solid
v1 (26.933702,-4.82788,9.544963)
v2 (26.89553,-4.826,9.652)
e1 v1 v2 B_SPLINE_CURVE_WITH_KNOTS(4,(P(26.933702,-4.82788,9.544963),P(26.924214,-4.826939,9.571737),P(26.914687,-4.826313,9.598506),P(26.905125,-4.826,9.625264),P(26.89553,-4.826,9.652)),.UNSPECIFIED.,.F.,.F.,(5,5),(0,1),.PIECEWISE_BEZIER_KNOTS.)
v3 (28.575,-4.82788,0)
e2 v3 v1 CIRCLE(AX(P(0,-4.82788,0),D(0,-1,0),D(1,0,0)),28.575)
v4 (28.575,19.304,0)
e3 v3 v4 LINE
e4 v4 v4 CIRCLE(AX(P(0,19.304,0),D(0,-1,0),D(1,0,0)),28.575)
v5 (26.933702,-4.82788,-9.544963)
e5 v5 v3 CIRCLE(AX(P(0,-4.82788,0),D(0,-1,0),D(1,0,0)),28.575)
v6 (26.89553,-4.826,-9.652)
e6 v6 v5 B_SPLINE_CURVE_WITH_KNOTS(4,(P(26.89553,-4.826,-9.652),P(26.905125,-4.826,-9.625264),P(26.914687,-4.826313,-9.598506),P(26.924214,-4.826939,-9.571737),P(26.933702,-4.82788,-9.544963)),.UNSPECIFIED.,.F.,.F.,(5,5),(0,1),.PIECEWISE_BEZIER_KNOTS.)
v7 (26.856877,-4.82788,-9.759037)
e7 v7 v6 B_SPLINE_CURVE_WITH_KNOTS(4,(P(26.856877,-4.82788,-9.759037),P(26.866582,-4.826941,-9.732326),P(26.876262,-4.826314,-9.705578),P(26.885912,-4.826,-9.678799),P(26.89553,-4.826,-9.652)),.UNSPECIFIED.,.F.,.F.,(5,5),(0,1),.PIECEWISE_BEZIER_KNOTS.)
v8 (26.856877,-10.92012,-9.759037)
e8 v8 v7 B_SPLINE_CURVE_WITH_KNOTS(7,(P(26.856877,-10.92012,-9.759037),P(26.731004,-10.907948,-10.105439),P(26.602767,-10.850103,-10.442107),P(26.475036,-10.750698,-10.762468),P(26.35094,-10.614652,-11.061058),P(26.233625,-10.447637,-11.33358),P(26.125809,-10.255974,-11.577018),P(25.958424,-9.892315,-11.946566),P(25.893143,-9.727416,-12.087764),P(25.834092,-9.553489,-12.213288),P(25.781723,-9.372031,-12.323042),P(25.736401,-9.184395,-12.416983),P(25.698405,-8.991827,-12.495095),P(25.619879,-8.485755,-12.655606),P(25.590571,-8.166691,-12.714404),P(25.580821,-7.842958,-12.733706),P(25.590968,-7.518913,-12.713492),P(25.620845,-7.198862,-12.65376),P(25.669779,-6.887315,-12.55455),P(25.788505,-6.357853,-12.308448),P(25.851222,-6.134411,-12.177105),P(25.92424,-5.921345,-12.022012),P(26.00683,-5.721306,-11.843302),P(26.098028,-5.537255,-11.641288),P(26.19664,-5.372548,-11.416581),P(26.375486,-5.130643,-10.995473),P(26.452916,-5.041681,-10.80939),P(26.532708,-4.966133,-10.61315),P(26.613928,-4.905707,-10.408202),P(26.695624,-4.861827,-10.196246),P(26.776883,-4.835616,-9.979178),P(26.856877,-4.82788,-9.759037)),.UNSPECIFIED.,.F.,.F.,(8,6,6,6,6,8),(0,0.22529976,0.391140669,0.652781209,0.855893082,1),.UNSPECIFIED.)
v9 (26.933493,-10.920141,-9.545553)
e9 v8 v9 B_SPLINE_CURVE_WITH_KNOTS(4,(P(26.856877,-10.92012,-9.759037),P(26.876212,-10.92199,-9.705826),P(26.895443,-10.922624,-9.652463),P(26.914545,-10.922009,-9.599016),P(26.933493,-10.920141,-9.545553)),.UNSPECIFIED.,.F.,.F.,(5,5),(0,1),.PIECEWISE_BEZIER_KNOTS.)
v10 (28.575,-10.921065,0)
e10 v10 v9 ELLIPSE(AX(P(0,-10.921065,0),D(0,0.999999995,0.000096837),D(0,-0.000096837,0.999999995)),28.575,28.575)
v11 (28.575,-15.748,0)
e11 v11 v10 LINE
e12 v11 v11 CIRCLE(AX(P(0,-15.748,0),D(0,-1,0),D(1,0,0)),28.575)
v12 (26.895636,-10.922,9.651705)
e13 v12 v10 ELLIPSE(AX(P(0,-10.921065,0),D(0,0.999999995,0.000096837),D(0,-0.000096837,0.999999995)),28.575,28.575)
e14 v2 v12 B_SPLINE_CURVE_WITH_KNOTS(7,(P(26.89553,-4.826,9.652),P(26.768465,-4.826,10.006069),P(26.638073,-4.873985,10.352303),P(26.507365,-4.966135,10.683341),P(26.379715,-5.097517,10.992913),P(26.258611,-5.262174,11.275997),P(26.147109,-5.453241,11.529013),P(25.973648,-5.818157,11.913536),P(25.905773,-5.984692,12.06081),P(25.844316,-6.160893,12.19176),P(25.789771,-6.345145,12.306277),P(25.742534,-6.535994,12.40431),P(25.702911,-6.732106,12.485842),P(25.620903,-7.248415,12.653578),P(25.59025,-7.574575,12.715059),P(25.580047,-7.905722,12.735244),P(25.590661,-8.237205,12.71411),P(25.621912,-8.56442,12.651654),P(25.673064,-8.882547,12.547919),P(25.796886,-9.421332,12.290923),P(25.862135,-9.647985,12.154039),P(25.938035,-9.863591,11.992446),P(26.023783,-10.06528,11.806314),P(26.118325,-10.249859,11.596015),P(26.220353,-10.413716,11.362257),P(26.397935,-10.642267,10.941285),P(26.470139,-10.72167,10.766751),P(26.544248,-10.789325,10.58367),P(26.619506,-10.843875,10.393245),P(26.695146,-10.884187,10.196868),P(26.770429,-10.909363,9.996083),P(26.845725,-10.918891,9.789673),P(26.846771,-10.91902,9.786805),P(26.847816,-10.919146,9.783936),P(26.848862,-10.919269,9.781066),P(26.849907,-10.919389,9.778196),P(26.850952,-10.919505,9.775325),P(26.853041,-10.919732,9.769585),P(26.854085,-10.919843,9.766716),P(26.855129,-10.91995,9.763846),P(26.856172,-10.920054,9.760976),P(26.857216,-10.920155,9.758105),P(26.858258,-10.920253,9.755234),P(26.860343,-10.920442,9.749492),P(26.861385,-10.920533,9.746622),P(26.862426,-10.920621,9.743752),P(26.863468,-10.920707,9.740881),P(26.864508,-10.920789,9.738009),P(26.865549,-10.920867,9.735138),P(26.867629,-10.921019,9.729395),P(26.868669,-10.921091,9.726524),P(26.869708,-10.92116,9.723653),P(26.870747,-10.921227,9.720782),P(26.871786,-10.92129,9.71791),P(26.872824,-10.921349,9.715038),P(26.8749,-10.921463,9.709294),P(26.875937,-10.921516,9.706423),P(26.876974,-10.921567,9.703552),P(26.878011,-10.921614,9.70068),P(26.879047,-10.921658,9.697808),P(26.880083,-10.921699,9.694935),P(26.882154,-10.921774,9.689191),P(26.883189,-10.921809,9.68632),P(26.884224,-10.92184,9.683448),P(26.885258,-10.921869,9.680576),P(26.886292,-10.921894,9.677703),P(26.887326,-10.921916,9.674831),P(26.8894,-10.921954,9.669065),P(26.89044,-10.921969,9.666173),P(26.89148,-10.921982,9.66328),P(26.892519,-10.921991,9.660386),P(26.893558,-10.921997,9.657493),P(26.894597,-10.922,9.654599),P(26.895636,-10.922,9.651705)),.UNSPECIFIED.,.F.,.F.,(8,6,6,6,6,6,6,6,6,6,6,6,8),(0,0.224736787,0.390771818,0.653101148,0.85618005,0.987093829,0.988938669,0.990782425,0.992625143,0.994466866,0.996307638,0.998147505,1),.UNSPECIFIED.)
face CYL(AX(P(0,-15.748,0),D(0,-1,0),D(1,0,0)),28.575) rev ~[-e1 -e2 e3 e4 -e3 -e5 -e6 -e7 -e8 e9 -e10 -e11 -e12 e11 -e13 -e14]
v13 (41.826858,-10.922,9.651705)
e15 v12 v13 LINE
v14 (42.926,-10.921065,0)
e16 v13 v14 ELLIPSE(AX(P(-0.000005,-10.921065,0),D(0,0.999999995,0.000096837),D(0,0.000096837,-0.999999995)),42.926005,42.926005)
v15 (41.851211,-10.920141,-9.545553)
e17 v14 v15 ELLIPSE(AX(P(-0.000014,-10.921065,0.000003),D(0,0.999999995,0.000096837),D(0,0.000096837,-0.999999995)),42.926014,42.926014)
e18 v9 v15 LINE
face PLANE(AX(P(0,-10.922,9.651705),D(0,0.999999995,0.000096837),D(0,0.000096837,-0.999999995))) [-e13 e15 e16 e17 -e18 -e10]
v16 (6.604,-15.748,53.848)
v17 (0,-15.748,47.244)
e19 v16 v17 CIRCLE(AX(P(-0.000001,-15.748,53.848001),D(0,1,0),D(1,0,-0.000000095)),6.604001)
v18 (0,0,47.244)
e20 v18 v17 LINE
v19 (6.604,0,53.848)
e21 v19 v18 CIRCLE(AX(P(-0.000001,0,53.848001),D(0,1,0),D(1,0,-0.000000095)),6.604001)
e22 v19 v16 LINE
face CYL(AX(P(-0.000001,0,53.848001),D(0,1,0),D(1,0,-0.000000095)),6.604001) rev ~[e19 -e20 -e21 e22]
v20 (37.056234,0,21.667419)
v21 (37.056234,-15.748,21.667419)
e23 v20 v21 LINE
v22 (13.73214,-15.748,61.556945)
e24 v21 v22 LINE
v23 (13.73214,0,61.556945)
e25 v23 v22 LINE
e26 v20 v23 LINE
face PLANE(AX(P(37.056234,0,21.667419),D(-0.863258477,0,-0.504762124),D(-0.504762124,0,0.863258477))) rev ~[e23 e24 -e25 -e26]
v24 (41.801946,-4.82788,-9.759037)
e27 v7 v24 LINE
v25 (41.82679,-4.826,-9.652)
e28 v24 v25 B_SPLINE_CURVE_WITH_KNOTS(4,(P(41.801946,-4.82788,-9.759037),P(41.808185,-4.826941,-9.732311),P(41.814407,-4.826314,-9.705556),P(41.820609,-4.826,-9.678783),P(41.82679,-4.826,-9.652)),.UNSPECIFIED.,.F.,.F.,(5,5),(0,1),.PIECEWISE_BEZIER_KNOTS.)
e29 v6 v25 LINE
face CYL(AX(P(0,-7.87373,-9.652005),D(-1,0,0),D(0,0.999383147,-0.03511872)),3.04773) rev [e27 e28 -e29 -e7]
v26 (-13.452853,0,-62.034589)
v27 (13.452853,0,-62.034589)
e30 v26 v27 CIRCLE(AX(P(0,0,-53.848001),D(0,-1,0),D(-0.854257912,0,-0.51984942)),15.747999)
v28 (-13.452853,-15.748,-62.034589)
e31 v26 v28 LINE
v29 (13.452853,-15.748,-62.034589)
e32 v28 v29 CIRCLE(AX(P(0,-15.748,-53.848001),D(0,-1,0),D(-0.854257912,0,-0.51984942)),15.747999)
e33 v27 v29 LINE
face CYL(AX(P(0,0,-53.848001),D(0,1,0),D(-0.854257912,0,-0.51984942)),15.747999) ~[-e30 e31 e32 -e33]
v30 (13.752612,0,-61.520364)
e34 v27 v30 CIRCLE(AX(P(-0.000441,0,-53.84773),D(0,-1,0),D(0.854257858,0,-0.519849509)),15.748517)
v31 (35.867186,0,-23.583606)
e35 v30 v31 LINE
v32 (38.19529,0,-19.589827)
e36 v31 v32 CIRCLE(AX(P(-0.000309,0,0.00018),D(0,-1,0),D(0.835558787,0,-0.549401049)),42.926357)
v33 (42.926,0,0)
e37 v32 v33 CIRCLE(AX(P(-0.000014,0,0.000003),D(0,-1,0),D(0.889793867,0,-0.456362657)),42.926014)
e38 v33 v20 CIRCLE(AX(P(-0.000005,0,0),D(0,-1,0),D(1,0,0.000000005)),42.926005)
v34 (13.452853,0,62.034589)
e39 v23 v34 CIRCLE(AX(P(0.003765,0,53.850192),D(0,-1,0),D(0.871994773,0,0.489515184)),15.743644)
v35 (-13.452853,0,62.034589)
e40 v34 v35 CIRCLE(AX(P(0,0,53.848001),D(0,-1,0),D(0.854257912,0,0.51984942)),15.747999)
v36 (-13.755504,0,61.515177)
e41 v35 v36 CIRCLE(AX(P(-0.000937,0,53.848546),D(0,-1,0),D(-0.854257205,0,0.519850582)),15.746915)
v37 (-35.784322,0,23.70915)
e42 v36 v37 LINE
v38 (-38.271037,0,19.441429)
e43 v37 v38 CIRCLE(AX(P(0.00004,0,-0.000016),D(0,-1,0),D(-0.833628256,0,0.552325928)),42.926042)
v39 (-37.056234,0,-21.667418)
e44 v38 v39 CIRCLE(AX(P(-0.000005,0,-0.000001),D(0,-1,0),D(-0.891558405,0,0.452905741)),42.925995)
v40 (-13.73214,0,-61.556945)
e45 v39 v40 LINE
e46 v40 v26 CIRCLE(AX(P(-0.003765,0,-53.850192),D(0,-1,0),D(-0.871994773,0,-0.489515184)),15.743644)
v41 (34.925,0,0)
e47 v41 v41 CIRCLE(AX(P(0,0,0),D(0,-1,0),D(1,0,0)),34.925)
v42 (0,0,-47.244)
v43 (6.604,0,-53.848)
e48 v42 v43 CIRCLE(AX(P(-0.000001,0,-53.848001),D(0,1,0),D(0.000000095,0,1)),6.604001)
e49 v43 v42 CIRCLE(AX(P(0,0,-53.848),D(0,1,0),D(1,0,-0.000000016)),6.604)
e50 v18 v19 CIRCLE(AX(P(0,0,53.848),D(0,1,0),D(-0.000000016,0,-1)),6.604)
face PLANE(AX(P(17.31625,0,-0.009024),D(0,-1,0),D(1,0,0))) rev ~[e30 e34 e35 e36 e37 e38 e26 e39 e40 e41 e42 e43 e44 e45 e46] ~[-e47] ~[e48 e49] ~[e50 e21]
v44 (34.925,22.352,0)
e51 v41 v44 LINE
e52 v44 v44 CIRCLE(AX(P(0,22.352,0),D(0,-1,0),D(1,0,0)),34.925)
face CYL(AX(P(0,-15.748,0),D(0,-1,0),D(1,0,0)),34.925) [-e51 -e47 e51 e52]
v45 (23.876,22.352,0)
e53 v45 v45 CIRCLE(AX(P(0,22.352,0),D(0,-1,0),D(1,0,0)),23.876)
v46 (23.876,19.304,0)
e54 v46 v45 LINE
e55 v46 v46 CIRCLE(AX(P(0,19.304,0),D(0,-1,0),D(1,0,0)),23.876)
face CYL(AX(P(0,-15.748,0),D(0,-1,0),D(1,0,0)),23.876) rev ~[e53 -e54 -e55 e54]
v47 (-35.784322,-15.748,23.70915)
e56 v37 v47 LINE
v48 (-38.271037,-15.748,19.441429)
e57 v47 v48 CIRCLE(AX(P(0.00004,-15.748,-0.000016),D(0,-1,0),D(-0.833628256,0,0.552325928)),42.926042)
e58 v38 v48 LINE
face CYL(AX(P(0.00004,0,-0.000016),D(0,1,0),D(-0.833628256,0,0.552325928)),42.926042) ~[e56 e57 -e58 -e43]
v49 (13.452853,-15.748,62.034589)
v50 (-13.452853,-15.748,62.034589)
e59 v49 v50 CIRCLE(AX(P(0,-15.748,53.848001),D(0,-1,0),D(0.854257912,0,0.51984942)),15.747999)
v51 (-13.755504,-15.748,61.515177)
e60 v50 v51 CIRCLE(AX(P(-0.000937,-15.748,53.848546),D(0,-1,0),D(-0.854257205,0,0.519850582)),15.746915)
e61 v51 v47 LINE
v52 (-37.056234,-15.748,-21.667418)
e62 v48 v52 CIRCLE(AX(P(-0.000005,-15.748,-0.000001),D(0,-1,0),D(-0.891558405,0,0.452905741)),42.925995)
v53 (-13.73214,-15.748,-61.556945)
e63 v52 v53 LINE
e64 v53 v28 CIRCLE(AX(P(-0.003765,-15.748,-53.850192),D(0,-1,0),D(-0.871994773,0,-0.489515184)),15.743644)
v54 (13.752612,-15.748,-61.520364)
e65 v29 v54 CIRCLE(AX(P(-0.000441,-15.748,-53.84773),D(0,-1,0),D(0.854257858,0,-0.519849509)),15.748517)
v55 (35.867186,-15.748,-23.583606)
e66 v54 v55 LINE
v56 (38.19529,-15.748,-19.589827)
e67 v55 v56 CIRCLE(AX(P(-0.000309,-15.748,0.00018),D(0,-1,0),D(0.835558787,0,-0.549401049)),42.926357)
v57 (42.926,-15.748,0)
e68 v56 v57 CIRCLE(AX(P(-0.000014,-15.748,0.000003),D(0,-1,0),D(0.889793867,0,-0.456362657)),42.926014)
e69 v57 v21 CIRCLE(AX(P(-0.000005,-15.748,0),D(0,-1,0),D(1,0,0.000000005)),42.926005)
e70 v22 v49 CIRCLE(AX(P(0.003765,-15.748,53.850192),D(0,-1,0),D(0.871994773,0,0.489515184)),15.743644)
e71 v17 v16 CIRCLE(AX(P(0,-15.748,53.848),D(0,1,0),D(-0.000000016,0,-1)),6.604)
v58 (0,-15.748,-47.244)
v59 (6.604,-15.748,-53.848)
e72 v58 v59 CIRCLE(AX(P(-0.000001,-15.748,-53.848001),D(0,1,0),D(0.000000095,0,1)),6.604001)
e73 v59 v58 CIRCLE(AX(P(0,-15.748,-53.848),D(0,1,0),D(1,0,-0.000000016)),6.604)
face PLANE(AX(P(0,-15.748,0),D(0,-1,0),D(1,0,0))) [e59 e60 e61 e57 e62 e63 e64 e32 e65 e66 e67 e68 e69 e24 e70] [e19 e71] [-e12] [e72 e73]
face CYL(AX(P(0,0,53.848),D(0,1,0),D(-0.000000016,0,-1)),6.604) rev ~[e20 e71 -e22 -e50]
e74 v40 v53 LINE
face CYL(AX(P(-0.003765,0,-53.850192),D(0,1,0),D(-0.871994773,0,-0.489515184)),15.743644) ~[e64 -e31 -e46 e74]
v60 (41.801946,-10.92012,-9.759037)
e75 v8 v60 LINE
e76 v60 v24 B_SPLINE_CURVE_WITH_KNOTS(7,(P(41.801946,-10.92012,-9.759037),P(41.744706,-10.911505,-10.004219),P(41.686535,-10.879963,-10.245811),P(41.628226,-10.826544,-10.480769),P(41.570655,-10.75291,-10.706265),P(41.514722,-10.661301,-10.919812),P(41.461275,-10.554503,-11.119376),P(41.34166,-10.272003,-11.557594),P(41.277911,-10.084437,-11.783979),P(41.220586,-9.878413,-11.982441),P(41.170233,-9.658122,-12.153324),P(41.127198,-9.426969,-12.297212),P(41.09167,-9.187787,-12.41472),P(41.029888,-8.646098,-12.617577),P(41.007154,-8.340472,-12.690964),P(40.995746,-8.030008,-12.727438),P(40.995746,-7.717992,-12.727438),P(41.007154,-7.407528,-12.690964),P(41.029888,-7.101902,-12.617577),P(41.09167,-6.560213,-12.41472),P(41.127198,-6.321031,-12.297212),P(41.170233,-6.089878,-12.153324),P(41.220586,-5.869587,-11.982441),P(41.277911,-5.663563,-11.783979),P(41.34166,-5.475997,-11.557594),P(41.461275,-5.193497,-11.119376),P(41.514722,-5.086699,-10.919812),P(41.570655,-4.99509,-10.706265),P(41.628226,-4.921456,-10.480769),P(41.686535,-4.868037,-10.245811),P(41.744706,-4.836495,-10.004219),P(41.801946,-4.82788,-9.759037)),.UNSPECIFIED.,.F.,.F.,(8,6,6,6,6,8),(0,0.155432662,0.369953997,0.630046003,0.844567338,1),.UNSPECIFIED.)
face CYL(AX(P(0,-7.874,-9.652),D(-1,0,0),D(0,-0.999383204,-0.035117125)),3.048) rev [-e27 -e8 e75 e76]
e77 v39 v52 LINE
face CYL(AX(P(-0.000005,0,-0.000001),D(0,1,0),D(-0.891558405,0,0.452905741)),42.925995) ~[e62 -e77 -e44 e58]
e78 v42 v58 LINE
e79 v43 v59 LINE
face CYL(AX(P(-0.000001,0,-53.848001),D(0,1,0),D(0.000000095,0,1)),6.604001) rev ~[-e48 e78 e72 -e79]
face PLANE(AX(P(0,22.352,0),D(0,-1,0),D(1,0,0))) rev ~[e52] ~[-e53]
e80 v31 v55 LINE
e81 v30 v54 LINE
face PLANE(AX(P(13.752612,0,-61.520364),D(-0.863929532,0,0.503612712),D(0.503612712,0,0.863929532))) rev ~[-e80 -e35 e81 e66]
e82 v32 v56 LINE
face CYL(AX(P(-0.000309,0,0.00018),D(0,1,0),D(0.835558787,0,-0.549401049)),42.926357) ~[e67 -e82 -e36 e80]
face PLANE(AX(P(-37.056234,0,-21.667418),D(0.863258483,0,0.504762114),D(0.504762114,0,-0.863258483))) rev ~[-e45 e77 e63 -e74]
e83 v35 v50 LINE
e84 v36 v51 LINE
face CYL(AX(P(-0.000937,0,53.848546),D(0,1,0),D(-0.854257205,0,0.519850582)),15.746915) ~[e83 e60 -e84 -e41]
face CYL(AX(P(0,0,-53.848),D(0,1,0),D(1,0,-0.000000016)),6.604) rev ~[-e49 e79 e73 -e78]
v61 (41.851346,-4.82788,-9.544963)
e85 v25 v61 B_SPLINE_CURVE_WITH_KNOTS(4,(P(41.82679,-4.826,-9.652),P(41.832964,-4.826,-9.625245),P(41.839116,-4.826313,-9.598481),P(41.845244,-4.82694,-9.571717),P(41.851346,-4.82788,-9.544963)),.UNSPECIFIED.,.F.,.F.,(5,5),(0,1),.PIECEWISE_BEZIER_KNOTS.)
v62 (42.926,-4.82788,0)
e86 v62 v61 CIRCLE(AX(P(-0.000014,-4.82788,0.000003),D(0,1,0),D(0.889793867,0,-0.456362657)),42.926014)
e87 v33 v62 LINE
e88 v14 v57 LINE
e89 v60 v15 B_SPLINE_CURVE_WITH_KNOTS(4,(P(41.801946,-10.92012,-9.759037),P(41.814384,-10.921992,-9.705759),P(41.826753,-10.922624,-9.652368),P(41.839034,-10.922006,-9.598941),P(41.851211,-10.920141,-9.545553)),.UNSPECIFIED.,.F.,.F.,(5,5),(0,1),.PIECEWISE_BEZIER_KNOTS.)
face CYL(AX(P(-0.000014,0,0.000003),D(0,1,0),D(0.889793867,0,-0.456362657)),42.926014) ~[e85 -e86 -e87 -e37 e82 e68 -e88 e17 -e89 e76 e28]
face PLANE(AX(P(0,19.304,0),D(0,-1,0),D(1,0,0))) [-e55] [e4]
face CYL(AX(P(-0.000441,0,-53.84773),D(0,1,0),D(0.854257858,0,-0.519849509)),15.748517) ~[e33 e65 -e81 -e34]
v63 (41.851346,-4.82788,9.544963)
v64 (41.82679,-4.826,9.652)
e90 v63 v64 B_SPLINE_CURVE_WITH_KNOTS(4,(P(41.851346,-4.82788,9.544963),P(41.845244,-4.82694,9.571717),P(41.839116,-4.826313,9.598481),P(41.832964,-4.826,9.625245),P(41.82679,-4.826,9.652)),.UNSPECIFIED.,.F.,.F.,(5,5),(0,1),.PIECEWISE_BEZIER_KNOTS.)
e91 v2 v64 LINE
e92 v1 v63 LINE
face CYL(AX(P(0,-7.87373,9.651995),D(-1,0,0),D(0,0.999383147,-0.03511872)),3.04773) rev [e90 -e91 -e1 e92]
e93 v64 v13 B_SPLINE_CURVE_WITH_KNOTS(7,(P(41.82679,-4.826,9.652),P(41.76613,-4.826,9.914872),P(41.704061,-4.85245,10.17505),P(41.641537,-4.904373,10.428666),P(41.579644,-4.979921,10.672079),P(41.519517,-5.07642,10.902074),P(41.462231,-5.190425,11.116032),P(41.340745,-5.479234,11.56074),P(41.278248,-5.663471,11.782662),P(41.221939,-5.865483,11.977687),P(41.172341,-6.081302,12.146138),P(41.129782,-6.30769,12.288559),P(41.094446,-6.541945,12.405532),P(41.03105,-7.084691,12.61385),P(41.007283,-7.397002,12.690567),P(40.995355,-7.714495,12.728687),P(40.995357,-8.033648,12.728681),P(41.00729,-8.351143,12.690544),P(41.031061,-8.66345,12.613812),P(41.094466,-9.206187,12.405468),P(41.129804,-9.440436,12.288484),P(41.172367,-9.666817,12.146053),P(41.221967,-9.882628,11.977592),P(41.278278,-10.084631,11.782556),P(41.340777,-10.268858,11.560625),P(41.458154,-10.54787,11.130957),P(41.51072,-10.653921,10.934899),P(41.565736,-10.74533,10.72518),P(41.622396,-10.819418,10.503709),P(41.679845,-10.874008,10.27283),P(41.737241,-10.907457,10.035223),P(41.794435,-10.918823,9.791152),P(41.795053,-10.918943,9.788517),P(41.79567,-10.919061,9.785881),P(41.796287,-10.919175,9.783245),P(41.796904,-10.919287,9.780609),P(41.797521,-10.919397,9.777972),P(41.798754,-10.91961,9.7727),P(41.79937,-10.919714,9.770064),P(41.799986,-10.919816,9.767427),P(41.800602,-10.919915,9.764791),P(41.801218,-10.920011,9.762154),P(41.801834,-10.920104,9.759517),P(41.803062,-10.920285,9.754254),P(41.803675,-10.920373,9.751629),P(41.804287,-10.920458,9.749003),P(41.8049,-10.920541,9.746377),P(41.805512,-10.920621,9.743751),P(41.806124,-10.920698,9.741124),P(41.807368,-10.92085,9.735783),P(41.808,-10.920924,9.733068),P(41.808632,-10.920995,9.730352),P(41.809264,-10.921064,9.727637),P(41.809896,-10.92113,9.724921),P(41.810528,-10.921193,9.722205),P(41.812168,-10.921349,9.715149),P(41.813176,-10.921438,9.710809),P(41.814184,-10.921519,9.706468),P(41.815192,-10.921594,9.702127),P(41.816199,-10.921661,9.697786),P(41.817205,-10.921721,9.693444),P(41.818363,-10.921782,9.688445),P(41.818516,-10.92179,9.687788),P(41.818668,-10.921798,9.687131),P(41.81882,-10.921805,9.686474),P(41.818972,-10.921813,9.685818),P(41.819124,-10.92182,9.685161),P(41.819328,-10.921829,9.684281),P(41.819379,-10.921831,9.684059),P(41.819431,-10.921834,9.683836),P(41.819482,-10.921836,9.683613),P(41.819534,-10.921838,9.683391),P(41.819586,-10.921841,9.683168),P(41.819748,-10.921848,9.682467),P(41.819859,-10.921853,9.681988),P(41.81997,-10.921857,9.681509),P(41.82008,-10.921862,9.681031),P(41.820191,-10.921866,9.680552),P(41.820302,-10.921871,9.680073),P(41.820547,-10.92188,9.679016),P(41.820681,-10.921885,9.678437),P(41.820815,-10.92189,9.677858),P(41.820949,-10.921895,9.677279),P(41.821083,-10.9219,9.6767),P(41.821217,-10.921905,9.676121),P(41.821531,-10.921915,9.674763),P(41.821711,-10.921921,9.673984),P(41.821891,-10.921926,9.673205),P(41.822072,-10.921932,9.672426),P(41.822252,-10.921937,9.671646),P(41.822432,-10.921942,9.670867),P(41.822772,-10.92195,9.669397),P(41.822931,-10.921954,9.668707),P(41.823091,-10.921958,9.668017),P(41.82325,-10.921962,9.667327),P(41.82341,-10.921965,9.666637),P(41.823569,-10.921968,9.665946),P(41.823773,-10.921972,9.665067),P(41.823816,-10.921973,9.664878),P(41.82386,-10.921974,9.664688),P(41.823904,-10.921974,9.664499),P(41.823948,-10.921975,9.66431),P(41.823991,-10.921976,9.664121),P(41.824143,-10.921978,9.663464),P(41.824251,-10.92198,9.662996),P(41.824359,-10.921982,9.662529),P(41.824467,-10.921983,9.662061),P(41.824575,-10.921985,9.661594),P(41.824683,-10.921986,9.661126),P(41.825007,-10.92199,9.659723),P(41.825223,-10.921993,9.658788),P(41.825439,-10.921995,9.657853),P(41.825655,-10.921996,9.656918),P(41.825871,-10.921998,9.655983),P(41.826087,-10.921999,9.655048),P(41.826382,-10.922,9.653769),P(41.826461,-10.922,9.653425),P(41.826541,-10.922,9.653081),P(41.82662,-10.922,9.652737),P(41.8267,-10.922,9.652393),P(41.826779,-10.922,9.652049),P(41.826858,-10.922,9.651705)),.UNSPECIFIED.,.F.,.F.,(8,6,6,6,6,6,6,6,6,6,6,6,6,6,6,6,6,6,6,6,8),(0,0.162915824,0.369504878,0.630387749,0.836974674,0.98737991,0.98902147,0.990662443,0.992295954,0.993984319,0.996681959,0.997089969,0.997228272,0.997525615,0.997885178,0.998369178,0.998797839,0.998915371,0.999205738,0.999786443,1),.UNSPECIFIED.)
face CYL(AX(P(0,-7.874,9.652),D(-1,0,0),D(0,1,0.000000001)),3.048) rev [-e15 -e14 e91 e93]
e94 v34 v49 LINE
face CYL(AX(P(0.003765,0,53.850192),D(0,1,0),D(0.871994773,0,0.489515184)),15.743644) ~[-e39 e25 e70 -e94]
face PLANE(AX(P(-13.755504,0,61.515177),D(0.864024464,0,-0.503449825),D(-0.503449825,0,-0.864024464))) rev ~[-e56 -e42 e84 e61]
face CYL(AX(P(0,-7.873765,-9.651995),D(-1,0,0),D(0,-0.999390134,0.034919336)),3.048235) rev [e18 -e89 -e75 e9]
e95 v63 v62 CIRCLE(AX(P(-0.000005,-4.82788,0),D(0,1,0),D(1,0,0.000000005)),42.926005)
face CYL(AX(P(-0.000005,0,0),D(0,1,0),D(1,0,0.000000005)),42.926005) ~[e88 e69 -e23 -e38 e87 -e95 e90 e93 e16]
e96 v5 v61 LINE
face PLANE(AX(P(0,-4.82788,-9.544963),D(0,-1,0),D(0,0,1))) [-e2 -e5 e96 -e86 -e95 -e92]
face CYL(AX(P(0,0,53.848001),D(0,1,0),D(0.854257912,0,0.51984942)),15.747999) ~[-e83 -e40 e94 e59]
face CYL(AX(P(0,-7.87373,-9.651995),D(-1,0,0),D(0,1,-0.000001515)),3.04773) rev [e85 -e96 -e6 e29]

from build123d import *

# Parameters (mm, degrees)
F1_DEPTH  = 15.748
F2_R      = 34.925
F3_DEPTH  = 38.1
F4_R      = 23.876
F5_DEPTH  = 38.1
F6_R      = 23.876
F7_DEPTH  = 38.1
F9_DEPTH  = 50.8
F10_R     = 28.575
F10_R_2   = 23.876
F11_DEPTH = 35.052


with BuildPart() as f1:
    # F0 (on Front) → F1 (new body)
    with BuildSketch(Plane.XZ):
        with BuildLine():
            Line((35.867186, -23.583606), (38.19529, -19.589827))
            ThreePointArc((38.19529, -19.589827), (41.726565, -10.076469), (42.926, 0))
            ThreePointArc((42.926, 0), (41.43258, 11.224206), (37.056234, 21.667419))
            ThreePointArc((37.056234, 21.667419), (25.604433, 34.453657), (10.058576, 41.730882))
            ThreePointArc((10.058576, 41.730882), (5.346921, 39.035507), (0, 38.1))
            Line((0, 38.1), (0, 0))
            Line((0, 0), (0, -38.1))
            ThreePointArc((0, -38.1), (5.346921, -39.035507), (10.058576, -41.730882))
            ThreePointArc((10.058576, -41.730882), (24.690581, -35.114337), (35.867186, -23.583606))
        make_face()
        with BuildLine():
            ThreePointArc((35.867186, -23.583606), (37.085039, -21.618079), (38.19529, -19.589827))
            Line((38.19529, -19.589827), (35.867186, -23.583606))
        make_face()
        with BuildLine():
            Line((13.752612, -61.520364), (35.867186, -23.583606))
            ThreePointArc((35.867186, -23.583606), (24.690581, -35.114337), (10.058576, -41.730882))
            ThreePointArc((10.058576, -41.730882), (14.254858, -47.15483), (15.748, -53.848))
            ThreePointArc((15.748, -53.848), (15.240991, -57.811797), (13.752612, -61.520364))
        make_face()
        with BuildLine():
            ThreePointArc((10.058576, 41.730882), (25.604433, 34.453657), (37.056234, 21.667419))
            Line((37.056234, 21.667419), (13.73214, 61.556945))
            ThreePointArc((13.73214, 61.556945), (15.235702, 57.832078), (15.748, 53.848))
            ThreePointArc((15.748, 53.848), (14.254858, 47.15483), (10.058576, 41.730882))
        make_face()
        with BuildLine():
            ThreePointArc((6.604, -53.848), (4.669733, -49.178267), (0, -47.244))
            ThreePointArc((0, -47.244), (-4.669733, -58.517733), (6.604, -53.848))
        make_face()
        with BuildLine():
            ThreePointArc((15.748, -53.848), (14.254858, -47.15483), (10.058576, -41.730882))
            ThreePointArc((10.058576, -41.730882), (5.064663, -42.626173), (0, -42.926))
            ThreePointArc((0, -42.926), (-5.064663, -42.626173), (-10.058576, -41.730882))
            ThreePointArc((-10.058576, -41.730882), (-15.484435, -50.978895), (-13.73214, -61.556945))
            Line((-13.73214, -61.556945), (-13.452853, -62.034589))
            ThreePointArc((-13.452853, -62.034589), (0, -69.596), (13.452853, -62.034589))
            Line((13.452853, -62.034589), (13.752612, -61.520364))
            ThreePointArc((13.752612, -61.520364), (15.240991, -57.811797), (15.748, -53.848))
        make_face()
        with BuildLine():
            ThreePointArc((6.604, -53.848), (-4.669733, -58.517733), (0, -47.244))
            ThreePointArc((0, -47.244), (4.669733, -49.178267), (6.604, -53.848))
        make_face(mode=Mode.SUBTRACT)
        with BuildLine():
            ThreePointArc((13.452853, -62.034589), (13.605162, -61.778893), (13.752612, -61.520364))
            Line((13.752612, -61.520364), (13.452853, -62.034589))
        make_face()
        with BuildLine():
            ThreePointArc((6.604, 53.848), (-4.669733, 58.517733), (0, 47.244))
            ThreePointArc((0, 47.244), (4.669733, 49.178267), (6.604, 53.848))
        make_face()
        with BuildLine():
            ThreePointArc((0, 42.926), (5.064663, 42.626173), (10.058576, 41.730882))
            ThreePointArc((10.058576, 41.730882), (14.254858, 47.15483), (15.748, 53.848))
            ThreePointArc((15.748, 53.848), (15.235702, 57.832078), (13.73214, 61.556945))
            Line((13.73214, 61.556945), (13.452853, 62.034589))
            ThreePointArc((13.452853, 62.034589), (0, 69.596), (-13.452853, 62.034589))
            Line((-13.452853, 62.034589), (-13.755504, 61.515177))
            ThreePointArc((-13.755504, 61.515177), (-15.480058, 50.955369), (-10.058576, 41.730882))
            ThreePointArc((-10.058576, 41.730882), (-5.064663, 42.626173), (0, 42.926))
        make_face()
        with BuildLine():
            ThreePointArc((6.604, 53.848), (4.669733, 49.178267), (0, 47.244))
            ThreePointArc((0, 47.244), (-4.669733, 58.517733), (6.604, 53.848))
        make_face(mode=Mode.SUBTRACT)
        with BuildLine():
            Line((13.452853, 62.034589), (13.73214, 61.556945))
            ThreePointArc((13.73214, 61.556945), (13.594595, 61.796994), (13.452853, 62.034589))
        make_face()
        with BuildLine():
            ThreePointArc((-10.058576, -41.730882), (-5.346921, -39.035507), (0, -38.1))
            Line((0, -38.1), (0, 0))
            Line((0, 0), (0, 38.1))
            ThreePointArc((0, 38.1), (-5.346921, 39.035507), (-10.058576, 41.730882))
            ThreePointArc((-10.058576, 41.730882), (-24.629018, 35.157545), (-35.784322, 23.70915))
            Line((-35.784322, 23.70915), (-38.271037, 19.441429))
            ThreePointArc((-38.271037, 19.441429), (-42.90727, -1.267948), (-37.056234, -21.667418))
            ThreePointArc((-37.056234, -21.667418), (-25.604433, -34.453657), (-10.058576, -41.730882))
        make_face()
        with BuildLine():
            ThreePointArc((-13.73214, -61.556945), (-15.484435, -50.978895), (-10.058576, -41.730882))
            ThreePointArc((-10.058576, -41.730882), (-25.604433, -34.453657), (-37.056234, -21.667418))
            Line((-37.056234, -21.667418), (-13.73214, -61.556945))
        make_face()
        with BuildLine():
            ThreePointArc((-13.73214, -61.556945), (-13.594595, -61.796994), (-13.452853, -62.034589))
            Line((-13.452853, -62.034589), (-13.73214, -61.556945))
        make_face()
        with BuildLine():
            ThreePointArc((-35.784322, 23.70915), (-24.629018, 35.157545), (-10.058576, 41.730882))
            ThreePointArc((-10.058576, 41.730882), (-15.480058, 50.955369), (-13.755504, 61.515177))
            Line((-13.755504, 61.515177), (-35.784322, 23.70915))
        make_face()
        with BuildLine():
            Line((-13.755504, 61.515177), (-13.452853, 62.034589))
            ThreePointArc((-13.452853, 62.034589), (-13.606657, 61.776328), (-13.755504, 61.515177))
        make_face()
        with BuildLine():
            Line((-38.271037, 19.441429), (-35.784322, 23.70915))
            ThreePointArc((-35.784322, 23.70915), (-37.089114, 21.611087), (-38.271037, 19.441429))
        make_face()
        with BuildLine():
            ThreePointArc((0, 38.1), (5.346921, 39.035507), (10.058576, 41.730882))
            ThreePointArc((10.058576, 41.730882), (5.064663, 42.626173), (0, 42.926))
            Line((0, 42.926), (0, 38.1))
        make_face()
        with BuildLine():
            Line((0, 38.1), (0, 42.926))
            ThreePointArc((0, 42.926), (-5.064663, 42.626173), (-10.058576, 41.730882))
            ThreePointArc((-10.058576, 41.730882), (-5.346921, 39.035507), (0, 38.1))
        make_face()
        with BuildLine():
            ThreePointArc((0, -42.926), (5.064663, -42.626173), (10.058576, -41.730882))
            ThreePointArc((10.058576, -41.730882), (5.346921, -39.035507), (0, -38.1))
            Line((0, -38.1), (0, -42.926))
        make_face()
        with BuildLine():
            ThreePointArc((-10.058576, -41.730882), (-5.064663, -42.626173), (0, -42.926))
            Line((0, -42.926), (0, -38.1))
            ThreePointArc((0, -38.1), (-5.346921, -39.035507), (-10.058576, -41.730882))
        make_face()
    extrude(amount=F1_DEPTH)

    # F2 (on face) → F3 (join)
    with BuildSketch(Plane.XZ.offset(15.748)):
        Circle(F2_R)
    extrude(amount=-F3_DEPTH)

    # F4 (on face) → F5 (join)
    with BuildSketch(Plane.XZ.offset(15.748)):
        Circle(F4_R)
    extrude(amount=-F5_DEPTH)

    # F6 (on face) → F7 (cut)
    with BuildSketch(Plane.XZ.offset(15.748)):
        Circle(F6_R)
    extrude(amount=-F7_DEPTH, mode=Mode.SUBTRACT)

    # F8 (on Right) → F9 (cut)
    with BuildSketch(Plane.YZ):
        with BuildLine():
            Line((-7.874, 6.604), (-7.874, 0))
            Line((-7.874, 0), (-7.874, -6.604))
            ThreePointArc((-7.874, -6.604), (-5.75692, -7.459222), (-4.82788, -9.544963))
            Line((-4.82788, -9.544963), (-4.82788, 9.544963))
            ThreePointArc((-4.82788, 9.544963), (-5.75692, 7.459222), (-7.874, 6.604))
        make_face()
        with BuildLine():
            Line((-7.874, -6.604), (-7.874, 0))
            Line((-7.874, 0), (-7.874, 6.604))
            ThreePointArc((-7.874, 6.604), (-10.029157, 7.496634), (-10.922, 9.651705))
            Line((-10.922, 9.651705), (-10.920141, -9.545553))
            ThreePointArc((-10.920141, -9.545553), (-9.991292, -7.459427), (-7.874, -6.604))
        make_face()
        with BuildLine():
            ThreePointArc((-4.82788, -9.544963), (-5.75692, -7.459222), (-7.874, -6.604))
            ThreePointArc((-7.874, -6.604), (-9.991292, -7.459427), (-10.920141, -9.545553))
            Line((-10.920141, -9.545553), (-10.92012, -9.759037))
            ThreePointArc((-10.92012, -9.759037), (-7.874, -12.7), (-4.82788, -9.759037))
            Line((-4.82788, -9.759037), (-4.82788, -9.544963))
        make_face()
        with BuildLine():
            ThreePointArc((-10.922, 9.651705), (-10.029157, 7.496634), (-7.874, 6.604))
            ThreePointArc((-7.874, 6.604), (-5.75692, 7.459222), (-4.82788, 9.544963))
            ThreePointArc((-4.82788, 9.544963), (-4.82647, 9.598473), (-4.826, 9.652))
            ThreePointArc((-4.826, 9.652), (-7.874148, 12.7), (-10.922, 9.651705))
        make_face()
        with BuildLine():
            ThreePointArc((-4.826, -9.652), (-4.82647, -9.598473), (-4.82788, -9.544963))
            Line((-4.82788, -9.544963), (-4.82788, -9.759037))
            ThreePointArc((-4.82788, -9.759037), (-4.82647, -9.705527), (-4.826, -9.652))
        make_face()
        with BuildLine():
            Line((-10.92012, -9.759037), (-10.920141, -9.545553))
            ThreePointArc((-10.920141, -9.545553), (-10.922, -9.652295), (-10.92012, -9.759037))
        make_face()
    extrude(amount=F9_DEPTH, mode=Mode.SUBTRACT)

    # F10 (on face) → F11 (cut)
    with BuildSketch(Plane.XZ.offset(15.748)):
        Circle(F10_R)
        Circle(F10_R_2, mode=Mode.SUBTRACT)
    extrude(amount=-F11_DEPTH, mode=Mode.SUBTRACT)


solid = f1.part
